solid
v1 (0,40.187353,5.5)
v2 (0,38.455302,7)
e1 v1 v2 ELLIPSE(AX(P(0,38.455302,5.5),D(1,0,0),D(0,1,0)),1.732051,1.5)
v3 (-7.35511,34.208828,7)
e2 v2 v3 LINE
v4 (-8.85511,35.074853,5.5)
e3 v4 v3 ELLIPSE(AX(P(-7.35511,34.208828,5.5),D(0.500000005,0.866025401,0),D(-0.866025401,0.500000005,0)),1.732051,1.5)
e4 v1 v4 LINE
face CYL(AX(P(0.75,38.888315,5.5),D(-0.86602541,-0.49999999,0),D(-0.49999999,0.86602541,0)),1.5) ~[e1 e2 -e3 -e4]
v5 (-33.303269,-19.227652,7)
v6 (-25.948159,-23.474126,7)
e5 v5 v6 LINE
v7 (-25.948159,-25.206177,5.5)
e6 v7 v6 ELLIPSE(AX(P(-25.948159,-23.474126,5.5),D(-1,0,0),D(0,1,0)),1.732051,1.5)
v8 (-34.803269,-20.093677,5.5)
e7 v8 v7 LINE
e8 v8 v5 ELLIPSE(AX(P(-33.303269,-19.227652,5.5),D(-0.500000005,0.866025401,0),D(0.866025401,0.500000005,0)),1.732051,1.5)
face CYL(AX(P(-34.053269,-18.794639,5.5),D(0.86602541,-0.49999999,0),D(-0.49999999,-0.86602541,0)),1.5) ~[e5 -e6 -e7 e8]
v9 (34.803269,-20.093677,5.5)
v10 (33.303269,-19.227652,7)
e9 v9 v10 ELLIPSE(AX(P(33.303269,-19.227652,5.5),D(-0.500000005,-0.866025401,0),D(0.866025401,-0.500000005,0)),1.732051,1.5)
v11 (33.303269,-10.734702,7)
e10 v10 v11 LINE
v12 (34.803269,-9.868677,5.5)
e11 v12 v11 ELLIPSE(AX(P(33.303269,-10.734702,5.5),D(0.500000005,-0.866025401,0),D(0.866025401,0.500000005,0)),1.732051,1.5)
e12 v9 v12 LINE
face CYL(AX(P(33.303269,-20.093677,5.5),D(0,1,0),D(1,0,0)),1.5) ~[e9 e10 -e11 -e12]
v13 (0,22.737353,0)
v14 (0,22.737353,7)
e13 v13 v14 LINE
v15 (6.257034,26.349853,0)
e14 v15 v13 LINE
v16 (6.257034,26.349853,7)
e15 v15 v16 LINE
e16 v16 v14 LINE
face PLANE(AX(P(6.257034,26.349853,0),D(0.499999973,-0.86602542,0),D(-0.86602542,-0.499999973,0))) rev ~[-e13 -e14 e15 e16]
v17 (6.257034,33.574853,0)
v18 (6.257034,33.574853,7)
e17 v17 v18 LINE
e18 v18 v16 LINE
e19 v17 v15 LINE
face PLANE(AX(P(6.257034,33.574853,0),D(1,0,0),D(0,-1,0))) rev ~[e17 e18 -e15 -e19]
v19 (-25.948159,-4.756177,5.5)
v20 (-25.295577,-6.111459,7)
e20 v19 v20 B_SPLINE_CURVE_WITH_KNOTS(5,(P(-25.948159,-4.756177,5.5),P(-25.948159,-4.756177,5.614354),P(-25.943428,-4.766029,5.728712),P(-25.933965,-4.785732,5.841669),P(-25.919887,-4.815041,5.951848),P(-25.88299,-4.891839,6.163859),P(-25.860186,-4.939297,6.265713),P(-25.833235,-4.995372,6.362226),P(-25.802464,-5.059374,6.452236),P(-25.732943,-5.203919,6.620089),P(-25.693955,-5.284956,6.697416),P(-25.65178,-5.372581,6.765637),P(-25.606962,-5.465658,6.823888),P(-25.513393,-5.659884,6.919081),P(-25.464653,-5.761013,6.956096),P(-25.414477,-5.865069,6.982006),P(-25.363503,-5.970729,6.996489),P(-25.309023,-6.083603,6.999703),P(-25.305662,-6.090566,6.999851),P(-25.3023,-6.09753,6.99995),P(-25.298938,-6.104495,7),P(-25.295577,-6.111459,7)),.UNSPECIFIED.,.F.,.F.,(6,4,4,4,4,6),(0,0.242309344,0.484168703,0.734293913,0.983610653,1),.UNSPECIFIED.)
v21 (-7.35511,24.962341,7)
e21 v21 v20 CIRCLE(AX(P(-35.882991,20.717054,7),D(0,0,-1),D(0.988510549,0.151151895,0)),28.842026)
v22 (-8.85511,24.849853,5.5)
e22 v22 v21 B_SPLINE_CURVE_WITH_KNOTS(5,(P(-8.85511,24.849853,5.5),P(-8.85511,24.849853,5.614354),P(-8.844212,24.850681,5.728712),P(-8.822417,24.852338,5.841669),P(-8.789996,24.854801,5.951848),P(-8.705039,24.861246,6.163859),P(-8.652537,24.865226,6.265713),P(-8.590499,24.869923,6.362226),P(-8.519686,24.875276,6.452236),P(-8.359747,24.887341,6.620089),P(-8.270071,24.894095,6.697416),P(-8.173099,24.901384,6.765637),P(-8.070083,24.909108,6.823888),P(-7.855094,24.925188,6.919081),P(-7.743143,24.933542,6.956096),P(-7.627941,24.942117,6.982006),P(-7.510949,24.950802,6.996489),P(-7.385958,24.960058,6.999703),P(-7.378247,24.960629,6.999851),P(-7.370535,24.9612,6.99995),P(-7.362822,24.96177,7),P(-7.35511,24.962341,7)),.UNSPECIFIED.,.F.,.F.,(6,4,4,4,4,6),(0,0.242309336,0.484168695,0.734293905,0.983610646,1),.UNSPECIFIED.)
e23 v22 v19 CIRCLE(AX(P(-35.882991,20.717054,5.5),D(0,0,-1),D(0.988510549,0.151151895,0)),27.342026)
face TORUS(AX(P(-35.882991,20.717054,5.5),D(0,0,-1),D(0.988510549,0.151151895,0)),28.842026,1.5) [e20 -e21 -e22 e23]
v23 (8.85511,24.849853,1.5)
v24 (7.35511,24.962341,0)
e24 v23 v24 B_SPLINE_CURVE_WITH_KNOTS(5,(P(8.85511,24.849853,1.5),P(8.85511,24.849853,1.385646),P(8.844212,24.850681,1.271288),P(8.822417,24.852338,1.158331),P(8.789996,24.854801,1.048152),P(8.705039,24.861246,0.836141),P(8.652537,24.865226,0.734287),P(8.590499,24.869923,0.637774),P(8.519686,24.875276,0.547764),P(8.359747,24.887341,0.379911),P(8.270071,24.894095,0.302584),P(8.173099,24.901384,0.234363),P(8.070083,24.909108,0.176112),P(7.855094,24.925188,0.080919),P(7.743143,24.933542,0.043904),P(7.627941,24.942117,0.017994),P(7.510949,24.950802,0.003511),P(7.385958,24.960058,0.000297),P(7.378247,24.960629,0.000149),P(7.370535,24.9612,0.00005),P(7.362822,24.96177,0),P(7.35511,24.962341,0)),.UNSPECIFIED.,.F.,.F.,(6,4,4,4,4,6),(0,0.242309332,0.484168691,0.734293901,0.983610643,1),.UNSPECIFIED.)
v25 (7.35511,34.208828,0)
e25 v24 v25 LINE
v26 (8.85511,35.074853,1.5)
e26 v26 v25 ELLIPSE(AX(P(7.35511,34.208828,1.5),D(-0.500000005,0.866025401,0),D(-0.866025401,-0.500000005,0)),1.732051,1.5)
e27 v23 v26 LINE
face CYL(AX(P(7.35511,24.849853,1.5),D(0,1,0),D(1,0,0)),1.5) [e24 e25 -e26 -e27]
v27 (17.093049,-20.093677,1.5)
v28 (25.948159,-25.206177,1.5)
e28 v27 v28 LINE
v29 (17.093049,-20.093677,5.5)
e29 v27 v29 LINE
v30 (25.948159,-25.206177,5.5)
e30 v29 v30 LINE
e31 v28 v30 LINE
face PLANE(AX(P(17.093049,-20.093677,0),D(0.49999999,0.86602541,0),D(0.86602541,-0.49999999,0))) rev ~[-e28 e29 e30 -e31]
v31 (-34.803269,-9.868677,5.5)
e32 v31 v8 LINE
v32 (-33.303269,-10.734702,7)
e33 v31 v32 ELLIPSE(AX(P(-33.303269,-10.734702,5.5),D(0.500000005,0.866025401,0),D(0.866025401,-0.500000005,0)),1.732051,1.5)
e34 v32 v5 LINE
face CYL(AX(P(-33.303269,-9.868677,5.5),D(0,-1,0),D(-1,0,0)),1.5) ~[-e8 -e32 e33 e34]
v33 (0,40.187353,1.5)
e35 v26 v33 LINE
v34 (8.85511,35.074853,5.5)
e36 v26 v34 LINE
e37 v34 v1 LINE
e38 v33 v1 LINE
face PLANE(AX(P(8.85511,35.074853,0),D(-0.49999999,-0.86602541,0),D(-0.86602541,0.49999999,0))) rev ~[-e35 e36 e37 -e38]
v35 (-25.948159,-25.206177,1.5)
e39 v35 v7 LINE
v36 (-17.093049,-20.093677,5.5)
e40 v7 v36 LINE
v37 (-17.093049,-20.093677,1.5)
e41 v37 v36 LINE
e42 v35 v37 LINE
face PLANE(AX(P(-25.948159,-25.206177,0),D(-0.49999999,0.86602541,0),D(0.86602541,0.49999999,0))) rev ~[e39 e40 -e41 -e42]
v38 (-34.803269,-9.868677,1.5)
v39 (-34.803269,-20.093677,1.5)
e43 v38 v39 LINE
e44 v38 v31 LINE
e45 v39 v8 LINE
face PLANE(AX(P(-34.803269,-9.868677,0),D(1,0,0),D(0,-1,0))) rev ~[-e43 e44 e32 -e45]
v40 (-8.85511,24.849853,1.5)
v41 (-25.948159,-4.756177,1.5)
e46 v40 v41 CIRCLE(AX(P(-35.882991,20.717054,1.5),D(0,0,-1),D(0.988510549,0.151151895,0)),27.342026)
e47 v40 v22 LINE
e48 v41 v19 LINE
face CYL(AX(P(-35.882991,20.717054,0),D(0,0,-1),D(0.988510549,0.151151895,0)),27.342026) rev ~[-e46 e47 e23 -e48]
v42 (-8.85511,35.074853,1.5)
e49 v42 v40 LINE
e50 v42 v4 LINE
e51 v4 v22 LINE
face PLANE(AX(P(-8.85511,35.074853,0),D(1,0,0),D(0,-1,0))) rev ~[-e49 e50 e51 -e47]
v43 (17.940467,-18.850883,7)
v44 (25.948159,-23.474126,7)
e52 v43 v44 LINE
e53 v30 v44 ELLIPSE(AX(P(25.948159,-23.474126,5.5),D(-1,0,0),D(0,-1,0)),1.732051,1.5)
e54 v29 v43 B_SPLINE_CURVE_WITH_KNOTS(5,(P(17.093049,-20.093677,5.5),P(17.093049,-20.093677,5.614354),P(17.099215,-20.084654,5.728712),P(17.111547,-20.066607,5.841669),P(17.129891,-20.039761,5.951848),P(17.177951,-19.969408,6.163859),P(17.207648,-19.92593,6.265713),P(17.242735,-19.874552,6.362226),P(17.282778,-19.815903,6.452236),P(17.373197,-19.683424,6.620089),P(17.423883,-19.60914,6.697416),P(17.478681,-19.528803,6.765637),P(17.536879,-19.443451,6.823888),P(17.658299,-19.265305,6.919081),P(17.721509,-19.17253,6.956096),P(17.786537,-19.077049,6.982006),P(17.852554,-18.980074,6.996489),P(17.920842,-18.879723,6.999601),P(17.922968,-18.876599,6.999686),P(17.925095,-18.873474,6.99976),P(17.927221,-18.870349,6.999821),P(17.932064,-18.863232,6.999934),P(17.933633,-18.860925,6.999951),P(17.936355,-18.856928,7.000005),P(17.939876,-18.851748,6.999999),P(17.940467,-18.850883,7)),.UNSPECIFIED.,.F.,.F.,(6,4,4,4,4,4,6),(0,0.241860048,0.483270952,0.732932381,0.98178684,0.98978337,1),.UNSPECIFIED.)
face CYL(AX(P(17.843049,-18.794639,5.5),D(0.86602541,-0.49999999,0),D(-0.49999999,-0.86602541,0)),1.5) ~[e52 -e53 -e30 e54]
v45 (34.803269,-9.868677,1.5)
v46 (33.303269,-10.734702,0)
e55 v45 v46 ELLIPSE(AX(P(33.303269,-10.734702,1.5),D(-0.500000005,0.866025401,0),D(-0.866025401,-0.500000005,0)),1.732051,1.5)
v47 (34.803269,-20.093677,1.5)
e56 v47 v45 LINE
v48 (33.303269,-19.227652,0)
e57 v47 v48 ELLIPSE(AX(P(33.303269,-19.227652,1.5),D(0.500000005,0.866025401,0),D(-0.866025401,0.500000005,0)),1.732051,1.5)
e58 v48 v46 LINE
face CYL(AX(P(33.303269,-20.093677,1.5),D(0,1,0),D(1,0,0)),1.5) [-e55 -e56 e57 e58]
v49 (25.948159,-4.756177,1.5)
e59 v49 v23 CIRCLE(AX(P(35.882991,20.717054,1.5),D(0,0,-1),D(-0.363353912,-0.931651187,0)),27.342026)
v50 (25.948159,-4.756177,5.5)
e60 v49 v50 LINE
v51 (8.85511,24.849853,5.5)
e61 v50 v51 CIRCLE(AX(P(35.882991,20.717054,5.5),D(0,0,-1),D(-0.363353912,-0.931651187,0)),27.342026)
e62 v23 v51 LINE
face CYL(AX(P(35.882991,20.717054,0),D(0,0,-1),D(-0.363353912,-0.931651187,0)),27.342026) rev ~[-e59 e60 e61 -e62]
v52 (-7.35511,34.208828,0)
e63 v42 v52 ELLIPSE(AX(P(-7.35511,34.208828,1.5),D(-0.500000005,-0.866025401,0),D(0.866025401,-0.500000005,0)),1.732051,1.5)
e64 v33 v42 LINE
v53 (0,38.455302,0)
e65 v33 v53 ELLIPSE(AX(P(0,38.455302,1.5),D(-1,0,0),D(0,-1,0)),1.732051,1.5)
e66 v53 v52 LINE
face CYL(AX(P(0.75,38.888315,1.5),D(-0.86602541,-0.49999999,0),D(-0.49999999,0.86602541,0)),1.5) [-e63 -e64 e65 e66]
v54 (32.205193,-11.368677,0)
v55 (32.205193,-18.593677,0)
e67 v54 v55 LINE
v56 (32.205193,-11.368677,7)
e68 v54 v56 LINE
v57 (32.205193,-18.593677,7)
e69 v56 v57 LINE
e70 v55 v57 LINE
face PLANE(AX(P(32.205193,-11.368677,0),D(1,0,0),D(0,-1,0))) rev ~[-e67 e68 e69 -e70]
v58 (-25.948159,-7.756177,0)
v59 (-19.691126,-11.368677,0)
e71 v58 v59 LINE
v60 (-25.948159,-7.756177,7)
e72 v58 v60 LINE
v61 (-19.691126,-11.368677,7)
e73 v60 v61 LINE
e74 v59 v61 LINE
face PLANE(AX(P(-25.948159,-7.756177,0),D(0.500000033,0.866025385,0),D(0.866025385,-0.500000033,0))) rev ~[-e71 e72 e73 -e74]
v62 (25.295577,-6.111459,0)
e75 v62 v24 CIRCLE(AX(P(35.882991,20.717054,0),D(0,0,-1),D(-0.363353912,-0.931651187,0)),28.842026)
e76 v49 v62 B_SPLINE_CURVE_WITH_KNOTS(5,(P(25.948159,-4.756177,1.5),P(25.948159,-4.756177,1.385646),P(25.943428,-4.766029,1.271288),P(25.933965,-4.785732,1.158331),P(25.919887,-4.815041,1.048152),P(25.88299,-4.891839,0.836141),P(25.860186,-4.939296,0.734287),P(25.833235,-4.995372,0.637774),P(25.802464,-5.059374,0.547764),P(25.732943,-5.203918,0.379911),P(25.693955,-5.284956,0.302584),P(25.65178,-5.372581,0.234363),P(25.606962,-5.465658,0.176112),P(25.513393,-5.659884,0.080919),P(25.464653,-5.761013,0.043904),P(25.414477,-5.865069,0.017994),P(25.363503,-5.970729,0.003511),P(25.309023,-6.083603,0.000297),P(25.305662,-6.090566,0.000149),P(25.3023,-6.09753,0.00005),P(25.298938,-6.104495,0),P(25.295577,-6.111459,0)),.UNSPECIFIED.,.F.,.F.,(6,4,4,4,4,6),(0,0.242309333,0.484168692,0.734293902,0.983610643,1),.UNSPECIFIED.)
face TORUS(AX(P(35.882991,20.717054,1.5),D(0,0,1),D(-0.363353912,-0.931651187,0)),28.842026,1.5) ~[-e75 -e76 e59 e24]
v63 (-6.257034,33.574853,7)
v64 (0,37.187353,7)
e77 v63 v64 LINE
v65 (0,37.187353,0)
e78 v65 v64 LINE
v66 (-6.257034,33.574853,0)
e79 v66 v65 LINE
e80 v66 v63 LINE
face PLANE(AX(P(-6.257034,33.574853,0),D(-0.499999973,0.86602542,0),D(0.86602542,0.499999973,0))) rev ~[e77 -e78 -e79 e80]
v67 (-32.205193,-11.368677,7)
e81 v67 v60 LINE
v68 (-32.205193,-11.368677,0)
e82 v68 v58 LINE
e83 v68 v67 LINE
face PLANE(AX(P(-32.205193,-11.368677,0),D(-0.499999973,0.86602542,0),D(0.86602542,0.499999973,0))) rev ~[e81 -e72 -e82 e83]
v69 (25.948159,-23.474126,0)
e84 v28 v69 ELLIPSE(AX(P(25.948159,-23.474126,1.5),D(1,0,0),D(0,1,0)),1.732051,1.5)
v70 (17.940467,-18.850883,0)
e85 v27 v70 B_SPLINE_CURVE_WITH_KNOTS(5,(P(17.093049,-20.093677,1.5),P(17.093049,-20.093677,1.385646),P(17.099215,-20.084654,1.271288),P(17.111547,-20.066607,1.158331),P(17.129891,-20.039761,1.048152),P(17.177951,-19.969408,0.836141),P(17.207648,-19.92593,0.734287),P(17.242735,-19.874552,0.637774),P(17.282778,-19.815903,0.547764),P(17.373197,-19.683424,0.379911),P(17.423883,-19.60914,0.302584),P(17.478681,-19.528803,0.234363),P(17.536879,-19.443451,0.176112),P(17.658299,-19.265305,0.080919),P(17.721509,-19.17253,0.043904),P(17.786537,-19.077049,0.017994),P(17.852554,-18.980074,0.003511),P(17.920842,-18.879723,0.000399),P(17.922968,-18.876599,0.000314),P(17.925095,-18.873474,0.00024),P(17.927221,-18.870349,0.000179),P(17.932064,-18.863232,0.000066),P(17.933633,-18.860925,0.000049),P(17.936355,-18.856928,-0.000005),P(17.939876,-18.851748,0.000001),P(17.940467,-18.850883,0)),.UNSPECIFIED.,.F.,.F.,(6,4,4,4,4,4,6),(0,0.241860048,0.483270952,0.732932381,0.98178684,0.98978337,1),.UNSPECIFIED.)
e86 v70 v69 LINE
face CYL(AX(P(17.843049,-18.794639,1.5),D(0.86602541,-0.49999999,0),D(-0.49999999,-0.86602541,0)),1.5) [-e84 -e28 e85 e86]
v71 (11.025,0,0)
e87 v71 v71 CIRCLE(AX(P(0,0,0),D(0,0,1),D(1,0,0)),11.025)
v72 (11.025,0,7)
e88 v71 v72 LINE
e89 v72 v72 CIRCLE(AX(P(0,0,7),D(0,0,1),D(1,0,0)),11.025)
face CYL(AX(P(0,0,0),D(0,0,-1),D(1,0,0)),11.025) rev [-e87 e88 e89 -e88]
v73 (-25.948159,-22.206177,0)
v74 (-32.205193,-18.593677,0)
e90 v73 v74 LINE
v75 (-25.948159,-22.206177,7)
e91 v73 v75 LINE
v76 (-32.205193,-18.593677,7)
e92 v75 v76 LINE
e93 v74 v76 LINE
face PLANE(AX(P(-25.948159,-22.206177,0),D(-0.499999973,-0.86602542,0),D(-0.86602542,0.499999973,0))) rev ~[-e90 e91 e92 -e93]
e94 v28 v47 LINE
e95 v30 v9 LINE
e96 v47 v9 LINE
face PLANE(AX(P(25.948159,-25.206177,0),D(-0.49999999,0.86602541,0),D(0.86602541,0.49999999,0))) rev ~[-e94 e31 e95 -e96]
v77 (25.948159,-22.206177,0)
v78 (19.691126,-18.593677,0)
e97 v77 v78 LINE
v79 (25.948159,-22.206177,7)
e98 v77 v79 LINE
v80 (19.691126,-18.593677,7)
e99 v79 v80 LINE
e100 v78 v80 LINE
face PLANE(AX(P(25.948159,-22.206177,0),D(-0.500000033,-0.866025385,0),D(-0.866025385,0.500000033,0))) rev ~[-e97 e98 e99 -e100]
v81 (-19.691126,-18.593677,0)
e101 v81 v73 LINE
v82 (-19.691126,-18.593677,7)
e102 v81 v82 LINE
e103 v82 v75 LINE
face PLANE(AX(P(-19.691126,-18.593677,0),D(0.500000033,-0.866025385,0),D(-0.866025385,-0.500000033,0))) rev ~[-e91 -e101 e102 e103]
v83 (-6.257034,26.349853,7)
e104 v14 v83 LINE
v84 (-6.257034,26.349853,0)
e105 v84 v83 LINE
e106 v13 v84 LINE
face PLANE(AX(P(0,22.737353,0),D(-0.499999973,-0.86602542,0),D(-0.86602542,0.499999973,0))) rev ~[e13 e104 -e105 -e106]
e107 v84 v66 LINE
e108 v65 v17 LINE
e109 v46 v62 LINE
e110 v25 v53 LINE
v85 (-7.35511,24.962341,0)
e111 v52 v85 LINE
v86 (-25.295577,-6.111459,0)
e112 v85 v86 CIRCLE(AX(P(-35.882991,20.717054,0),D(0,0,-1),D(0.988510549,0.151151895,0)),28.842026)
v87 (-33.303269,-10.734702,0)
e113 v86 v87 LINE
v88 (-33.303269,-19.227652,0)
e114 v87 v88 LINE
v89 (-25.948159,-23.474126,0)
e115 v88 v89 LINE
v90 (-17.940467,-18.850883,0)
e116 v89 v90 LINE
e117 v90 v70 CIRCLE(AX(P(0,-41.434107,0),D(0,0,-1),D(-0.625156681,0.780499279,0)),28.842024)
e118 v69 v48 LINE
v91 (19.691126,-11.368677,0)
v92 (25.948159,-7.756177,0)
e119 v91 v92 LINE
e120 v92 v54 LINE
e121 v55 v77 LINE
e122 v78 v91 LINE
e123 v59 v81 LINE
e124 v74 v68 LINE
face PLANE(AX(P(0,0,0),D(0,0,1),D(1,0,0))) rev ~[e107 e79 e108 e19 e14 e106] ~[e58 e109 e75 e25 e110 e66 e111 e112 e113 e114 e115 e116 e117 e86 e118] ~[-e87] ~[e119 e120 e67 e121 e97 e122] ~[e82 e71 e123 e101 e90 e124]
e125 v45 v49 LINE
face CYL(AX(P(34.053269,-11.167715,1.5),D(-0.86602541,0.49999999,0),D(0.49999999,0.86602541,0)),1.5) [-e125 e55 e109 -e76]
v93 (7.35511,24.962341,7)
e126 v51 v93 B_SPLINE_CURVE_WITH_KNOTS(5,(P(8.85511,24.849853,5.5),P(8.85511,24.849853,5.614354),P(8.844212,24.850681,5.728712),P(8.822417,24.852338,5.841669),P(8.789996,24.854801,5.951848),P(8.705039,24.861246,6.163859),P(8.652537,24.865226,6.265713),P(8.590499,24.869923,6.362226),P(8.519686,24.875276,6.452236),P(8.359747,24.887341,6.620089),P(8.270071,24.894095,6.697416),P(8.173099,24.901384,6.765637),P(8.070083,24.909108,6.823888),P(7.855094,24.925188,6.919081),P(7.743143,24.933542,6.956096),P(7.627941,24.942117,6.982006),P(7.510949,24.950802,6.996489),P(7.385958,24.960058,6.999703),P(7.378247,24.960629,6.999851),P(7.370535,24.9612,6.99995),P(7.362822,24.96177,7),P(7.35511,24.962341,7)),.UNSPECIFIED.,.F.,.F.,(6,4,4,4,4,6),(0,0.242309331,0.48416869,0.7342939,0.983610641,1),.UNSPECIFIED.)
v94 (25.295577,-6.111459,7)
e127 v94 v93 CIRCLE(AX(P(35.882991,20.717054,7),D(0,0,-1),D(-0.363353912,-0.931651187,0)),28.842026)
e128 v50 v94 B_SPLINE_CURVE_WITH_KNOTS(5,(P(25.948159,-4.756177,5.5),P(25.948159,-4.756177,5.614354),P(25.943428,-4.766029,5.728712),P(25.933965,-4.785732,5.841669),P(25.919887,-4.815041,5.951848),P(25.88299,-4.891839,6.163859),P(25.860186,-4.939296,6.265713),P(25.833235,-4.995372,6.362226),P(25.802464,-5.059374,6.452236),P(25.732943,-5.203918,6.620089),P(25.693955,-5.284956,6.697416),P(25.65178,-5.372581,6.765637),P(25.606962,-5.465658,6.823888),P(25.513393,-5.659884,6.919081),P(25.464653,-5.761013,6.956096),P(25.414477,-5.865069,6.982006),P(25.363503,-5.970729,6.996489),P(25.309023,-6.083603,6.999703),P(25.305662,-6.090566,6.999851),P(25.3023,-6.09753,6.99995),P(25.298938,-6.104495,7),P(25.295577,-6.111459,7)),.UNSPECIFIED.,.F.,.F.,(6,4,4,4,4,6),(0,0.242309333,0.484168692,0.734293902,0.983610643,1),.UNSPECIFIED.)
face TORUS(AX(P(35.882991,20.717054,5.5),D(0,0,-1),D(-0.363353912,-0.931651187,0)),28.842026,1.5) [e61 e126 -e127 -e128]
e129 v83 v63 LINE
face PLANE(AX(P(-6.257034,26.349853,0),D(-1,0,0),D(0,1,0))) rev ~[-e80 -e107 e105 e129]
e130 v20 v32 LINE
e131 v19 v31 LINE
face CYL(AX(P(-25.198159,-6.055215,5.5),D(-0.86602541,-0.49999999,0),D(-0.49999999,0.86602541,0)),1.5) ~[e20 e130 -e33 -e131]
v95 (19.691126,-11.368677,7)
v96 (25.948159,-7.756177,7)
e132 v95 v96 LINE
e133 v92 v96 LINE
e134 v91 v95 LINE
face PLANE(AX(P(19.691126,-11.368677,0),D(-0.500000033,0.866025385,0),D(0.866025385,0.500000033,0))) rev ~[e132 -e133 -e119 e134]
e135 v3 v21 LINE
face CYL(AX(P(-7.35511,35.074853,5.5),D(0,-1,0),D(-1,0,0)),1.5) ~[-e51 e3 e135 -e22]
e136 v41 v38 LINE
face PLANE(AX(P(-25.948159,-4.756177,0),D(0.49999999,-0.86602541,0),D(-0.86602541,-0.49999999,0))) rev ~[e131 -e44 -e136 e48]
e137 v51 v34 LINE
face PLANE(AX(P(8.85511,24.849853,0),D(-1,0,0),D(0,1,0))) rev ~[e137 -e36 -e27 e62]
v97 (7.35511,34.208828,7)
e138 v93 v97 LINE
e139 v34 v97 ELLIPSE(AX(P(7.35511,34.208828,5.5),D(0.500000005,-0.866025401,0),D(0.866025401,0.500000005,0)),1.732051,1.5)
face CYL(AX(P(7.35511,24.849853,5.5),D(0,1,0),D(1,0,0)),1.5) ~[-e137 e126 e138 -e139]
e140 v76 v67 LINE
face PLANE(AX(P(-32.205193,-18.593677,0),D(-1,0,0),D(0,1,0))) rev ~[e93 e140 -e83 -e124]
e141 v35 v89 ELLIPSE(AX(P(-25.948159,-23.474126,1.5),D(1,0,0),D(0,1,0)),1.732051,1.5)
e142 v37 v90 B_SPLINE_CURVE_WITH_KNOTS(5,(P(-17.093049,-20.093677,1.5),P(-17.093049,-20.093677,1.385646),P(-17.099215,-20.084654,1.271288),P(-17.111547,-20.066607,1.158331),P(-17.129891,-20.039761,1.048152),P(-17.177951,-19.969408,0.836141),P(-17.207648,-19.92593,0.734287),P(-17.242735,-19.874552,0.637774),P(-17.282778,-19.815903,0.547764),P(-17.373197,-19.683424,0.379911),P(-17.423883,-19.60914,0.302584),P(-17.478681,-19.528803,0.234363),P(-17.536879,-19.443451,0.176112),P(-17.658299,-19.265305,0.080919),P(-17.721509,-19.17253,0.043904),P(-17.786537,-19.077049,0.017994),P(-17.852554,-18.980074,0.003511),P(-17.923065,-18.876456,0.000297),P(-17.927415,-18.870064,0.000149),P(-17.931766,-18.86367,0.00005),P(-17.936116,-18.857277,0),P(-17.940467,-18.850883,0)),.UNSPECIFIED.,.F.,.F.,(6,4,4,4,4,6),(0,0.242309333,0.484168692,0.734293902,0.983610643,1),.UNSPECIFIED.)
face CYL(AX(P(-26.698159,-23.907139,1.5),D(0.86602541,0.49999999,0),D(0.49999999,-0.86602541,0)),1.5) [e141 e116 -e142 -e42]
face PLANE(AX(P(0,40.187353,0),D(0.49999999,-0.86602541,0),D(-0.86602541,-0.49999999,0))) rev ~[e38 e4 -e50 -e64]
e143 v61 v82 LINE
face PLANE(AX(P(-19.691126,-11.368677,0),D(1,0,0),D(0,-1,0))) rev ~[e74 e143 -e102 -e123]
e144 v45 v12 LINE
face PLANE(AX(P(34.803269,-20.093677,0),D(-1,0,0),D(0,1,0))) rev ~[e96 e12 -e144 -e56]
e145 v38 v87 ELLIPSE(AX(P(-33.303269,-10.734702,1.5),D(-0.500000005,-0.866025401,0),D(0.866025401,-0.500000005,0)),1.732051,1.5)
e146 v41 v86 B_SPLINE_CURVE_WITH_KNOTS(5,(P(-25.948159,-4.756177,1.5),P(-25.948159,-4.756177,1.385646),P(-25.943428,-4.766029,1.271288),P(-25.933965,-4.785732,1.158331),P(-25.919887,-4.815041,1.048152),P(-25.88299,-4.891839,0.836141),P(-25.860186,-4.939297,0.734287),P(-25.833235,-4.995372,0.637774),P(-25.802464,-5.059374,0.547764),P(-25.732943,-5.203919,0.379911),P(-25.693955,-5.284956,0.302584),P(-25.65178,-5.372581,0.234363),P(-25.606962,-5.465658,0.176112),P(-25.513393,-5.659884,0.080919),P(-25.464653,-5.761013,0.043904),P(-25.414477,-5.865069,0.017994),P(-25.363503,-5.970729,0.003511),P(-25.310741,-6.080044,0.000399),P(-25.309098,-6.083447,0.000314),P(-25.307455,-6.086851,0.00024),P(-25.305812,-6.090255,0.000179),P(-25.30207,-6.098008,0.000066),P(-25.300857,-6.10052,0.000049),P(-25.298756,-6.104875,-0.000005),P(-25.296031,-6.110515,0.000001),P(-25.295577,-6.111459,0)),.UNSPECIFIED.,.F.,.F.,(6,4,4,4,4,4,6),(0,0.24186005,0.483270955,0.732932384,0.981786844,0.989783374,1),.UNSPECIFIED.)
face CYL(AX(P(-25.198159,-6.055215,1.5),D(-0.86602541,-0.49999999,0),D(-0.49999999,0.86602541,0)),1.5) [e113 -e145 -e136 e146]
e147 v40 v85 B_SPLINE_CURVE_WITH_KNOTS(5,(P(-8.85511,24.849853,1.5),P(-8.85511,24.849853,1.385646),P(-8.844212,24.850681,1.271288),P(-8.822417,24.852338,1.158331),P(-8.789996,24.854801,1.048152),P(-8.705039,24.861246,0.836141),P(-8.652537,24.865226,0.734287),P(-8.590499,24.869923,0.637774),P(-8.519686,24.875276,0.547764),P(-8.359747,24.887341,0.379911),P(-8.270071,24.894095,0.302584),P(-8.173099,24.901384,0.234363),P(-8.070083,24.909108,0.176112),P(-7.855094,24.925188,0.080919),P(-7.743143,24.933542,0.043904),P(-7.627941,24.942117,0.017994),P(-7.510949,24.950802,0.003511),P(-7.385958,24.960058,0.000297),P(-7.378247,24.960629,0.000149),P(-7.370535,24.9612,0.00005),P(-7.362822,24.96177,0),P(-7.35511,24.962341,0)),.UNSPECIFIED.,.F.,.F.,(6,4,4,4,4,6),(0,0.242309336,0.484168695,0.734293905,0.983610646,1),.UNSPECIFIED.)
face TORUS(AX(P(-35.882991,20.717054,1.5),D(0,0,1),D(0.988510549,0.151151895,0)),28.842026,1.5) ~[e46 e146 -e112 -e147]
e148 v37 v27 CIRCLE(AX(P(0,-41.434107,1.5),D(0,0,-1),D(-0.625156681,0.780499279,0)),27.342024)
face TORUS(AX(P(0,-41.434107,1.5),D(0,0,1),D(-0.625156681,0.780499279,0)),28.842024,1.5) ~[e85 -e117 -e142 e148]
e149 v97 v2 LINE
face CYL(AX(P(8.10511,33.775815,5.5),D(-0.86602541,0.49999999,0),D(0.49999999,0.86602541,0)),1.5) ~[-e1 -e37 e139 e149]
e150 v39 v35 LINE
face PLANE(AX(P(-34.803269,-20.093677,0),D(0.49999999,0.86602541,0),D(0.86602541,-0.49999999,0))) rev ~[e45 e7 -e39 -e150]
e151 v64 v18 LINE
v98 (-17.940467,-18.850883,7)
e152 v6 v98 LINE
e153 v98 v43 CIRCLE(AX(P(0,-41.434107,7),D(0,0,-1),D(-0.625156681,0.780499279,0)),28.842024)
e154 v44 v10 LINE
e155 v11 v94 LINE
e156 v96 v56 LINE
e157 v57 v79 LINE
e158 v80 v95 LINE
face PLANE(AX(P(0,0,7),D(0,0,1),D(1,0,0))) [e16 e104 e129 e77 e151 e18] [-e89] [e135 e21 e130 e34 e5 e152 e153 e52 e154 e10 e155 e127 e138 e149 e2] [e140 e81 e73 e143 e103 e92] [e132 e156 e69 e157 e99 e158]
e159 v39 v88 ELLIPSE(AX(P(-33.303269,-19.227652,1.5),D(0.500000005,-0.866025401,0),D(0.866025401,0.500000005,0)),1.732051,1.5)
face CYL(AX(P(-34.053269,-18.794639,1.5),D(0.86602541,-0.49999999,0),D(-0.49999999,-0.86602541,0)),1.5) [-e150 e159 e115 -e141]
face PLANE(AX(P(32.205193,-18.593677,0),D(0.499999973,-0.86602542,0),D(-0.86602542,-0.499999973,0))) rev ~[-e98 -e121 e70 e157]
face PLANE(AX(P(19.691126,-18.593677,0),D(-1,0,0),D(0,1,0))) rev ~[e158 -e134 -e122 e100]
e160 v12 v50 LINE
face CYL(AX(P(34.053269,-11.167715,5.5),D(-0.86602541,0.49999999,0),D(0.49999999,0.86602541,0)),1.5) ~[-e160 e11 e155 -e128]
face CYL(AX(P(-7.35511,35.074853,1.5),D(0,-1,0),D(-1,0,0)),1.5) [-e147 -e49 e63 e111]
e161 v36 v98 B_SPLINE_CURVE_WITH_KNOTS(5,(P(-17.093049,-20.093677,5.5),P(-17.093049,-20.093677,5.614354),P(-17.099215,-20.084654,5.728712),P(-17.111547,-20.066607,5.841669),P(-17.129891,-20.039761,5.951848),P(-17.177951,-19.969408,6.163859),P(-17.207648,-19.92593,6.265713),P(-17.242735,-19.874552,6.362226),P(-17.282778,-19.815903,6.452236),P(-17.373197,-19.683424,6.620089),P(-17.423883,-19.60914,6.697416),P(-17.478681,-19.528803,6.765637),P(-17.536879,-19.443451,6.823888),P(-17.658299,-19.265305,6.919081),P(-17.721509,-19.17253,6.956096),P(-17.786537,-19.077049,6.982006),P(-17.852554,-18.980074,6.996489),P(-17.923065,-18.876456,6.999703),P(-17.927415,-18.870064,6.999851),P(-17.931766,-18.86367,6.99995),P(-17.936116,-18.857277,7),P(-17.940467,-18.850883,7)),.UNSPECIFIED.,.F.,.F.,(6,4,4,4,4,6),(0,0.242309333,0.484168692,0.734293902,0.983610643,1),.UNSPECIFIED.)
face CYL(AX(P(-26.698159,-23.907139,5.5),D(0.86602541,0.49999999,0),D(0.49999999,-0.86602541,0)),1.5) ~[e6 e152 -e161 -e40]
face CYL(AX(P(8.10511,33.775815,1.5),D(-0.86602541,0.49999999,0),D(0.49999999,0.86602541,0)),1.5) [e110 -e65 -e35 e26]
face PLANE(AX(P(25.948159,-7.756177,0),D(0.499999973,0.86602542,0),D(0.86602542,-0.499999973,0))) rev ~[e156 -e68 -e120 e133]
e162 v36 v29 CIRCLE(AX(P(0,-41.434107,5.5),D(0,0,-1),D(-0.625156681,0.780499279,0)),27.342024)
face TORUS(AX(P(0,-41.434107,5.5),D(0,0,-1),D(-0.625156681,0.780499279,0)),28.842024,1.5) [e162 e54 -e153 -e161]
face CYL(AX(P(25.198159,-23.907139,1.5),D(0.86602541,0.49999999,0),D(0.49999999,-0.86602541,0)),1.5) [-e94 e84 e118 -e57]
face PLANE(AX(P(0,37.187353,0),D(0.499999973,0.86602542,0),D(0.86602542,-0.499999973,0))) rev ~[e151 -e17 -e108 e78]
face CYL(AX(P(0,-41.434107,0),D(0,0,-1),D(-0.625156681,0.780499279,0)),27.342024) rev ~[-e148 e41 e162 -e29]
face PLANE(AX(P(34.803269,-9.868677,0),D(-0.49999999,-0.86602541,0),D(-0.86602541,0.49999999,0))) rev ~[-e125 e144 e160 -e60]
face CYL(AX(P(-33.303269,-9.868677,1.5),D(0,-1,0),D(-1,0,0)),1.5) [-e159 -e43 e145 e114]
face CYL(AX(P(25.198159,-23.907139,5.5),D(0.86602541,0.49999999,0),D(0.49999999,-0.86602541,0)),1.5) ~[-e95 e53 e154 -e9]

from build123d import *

# Parameters (mm, degrees)
F0_R     = 11.025
F1_DEPTH = 7
F2_R     = 1.5


with BuildPart() as f1:
    # F0 (on Top) → F1 (new body)
    with BuildSketch(Plane.XY):
        with BuildLine():
            Line((8.85511, 24.849853), (8.85511, 35.074853))
            Line((8.85511, 35.074853), (0, 40.187353))
            Line((0, 40.187353), (-8.85511, 35.074853))
            Line((-8.85511, 35.074853), (-8.85511, 24.849853))
            ThreePointArc((-8.85511, 24.849853), (-12.204102, 7.046041), (-25.948159, -4.756177))
            Line((-25.948159, -4.756177), (-34.803269, -9.868677))
            Line((-34.803269, -9.868677), (-34.803269, -20.093677))
            Line((-34.803269, -20.093677), (-25.948159, -25.206177))
            Line((-25.948159, -25.206177), (-17.093049, -20.093677))
            ThreePointArc((-17.093049, -20.093677), (0, -14.092083), (17.093049, -20.093677))
            Line((17.093049, -20.093677), (25.948159, -25.206177))
            Line((25.948159, -25.206177), (34.803269, -20.093677))
            Line((34.803269, -20.093677), (34.803269, -9.868677))
            Line((34.803269, -9.868677), (25.948159, -4.756177))
            ThreePointArc((25.948159, -4.756177), (12.204102, 7.046041), (8.85511, 24.849853))
        make_face()
        Polygon((-32.205193, -11.368677), (-25.948159, -7.756177), (-19.691126, -11.368677), (-19.691126, -18.593677), (-25.948159, -22.206177), (-32.205193, -18.593677), align=None, mode=Mode.SUBTRACT)
        Polygon((25.948159, -22.206177), (19.691126, -18.593677), (19.691126, -11.368677), (25.948159, -7.756177), (32.205193, -11.368677), (32.205193, -18.593677), align=None, mode=Mode.SUBTRACT)
        Circle(F0_R, mode=Mode.SUBTRACT)
        Polygon((0, 37.187353), (6.257034, 33.574853), (6.257034, 26.349853), (0, 22.737353), (-6.257034, 26.349853), (-6.257034, 33.574853), align=None, mode=Mode.SUBTRACT)
    extrude(amount=F1_DEPTH)

    # F2
    f2_edges = [f1.edges().sort_by_distance(p)[0] for p in [
        (0, -14.092083, 7),
        (-21.520604, -22.649927, 7),
        (-30.375714, -22.649927, 7),
        (-34.803269, -14.981177, 7),
        (-30.375714, -7.312427, 7),
        (-12.204102, 7.046041, 7),
        (21.520604, -22.649927, 7),
        (30.375714, -22.649927, 7),
        (34.803269, -14.981177, 7),
        (30.375714, -7.312427, 7),
        (12.204102, 7.046041, 7),
        (8.85511, 29.962353, 7),
        (4.427555, 37.631103, 7),
        (-4.427555, 37.631103, 7),
        (-8.85511, 29.962353, 7),
        (0, -14.092083, 0),
        (-21.520604, -22.649927, 0),
        (-30.375714, -22.649927, 0),
        (-34.803269, -14.981177, 0),
        (-30.375714, -7.312427, 0),
        (-12.204102, 7.046041, 0),
        (-8.85511, 29.962353, 0),
        (-4.427555, 37.631103, 0),
        (4.427555, 37.631103, 0),
        (8.85511, 29.962353, 0),
        (12.204102, 7.046041, 0),
        (30.375714, -7.312427, 0),
        (34.803269, -14.981177, 0),
        (30.375714, -22.649927, 0),
        (21.520604, -22.649927, 0),
    ]]
    fillet(f2_edges, radius=F2_R)


solid = f1.part
